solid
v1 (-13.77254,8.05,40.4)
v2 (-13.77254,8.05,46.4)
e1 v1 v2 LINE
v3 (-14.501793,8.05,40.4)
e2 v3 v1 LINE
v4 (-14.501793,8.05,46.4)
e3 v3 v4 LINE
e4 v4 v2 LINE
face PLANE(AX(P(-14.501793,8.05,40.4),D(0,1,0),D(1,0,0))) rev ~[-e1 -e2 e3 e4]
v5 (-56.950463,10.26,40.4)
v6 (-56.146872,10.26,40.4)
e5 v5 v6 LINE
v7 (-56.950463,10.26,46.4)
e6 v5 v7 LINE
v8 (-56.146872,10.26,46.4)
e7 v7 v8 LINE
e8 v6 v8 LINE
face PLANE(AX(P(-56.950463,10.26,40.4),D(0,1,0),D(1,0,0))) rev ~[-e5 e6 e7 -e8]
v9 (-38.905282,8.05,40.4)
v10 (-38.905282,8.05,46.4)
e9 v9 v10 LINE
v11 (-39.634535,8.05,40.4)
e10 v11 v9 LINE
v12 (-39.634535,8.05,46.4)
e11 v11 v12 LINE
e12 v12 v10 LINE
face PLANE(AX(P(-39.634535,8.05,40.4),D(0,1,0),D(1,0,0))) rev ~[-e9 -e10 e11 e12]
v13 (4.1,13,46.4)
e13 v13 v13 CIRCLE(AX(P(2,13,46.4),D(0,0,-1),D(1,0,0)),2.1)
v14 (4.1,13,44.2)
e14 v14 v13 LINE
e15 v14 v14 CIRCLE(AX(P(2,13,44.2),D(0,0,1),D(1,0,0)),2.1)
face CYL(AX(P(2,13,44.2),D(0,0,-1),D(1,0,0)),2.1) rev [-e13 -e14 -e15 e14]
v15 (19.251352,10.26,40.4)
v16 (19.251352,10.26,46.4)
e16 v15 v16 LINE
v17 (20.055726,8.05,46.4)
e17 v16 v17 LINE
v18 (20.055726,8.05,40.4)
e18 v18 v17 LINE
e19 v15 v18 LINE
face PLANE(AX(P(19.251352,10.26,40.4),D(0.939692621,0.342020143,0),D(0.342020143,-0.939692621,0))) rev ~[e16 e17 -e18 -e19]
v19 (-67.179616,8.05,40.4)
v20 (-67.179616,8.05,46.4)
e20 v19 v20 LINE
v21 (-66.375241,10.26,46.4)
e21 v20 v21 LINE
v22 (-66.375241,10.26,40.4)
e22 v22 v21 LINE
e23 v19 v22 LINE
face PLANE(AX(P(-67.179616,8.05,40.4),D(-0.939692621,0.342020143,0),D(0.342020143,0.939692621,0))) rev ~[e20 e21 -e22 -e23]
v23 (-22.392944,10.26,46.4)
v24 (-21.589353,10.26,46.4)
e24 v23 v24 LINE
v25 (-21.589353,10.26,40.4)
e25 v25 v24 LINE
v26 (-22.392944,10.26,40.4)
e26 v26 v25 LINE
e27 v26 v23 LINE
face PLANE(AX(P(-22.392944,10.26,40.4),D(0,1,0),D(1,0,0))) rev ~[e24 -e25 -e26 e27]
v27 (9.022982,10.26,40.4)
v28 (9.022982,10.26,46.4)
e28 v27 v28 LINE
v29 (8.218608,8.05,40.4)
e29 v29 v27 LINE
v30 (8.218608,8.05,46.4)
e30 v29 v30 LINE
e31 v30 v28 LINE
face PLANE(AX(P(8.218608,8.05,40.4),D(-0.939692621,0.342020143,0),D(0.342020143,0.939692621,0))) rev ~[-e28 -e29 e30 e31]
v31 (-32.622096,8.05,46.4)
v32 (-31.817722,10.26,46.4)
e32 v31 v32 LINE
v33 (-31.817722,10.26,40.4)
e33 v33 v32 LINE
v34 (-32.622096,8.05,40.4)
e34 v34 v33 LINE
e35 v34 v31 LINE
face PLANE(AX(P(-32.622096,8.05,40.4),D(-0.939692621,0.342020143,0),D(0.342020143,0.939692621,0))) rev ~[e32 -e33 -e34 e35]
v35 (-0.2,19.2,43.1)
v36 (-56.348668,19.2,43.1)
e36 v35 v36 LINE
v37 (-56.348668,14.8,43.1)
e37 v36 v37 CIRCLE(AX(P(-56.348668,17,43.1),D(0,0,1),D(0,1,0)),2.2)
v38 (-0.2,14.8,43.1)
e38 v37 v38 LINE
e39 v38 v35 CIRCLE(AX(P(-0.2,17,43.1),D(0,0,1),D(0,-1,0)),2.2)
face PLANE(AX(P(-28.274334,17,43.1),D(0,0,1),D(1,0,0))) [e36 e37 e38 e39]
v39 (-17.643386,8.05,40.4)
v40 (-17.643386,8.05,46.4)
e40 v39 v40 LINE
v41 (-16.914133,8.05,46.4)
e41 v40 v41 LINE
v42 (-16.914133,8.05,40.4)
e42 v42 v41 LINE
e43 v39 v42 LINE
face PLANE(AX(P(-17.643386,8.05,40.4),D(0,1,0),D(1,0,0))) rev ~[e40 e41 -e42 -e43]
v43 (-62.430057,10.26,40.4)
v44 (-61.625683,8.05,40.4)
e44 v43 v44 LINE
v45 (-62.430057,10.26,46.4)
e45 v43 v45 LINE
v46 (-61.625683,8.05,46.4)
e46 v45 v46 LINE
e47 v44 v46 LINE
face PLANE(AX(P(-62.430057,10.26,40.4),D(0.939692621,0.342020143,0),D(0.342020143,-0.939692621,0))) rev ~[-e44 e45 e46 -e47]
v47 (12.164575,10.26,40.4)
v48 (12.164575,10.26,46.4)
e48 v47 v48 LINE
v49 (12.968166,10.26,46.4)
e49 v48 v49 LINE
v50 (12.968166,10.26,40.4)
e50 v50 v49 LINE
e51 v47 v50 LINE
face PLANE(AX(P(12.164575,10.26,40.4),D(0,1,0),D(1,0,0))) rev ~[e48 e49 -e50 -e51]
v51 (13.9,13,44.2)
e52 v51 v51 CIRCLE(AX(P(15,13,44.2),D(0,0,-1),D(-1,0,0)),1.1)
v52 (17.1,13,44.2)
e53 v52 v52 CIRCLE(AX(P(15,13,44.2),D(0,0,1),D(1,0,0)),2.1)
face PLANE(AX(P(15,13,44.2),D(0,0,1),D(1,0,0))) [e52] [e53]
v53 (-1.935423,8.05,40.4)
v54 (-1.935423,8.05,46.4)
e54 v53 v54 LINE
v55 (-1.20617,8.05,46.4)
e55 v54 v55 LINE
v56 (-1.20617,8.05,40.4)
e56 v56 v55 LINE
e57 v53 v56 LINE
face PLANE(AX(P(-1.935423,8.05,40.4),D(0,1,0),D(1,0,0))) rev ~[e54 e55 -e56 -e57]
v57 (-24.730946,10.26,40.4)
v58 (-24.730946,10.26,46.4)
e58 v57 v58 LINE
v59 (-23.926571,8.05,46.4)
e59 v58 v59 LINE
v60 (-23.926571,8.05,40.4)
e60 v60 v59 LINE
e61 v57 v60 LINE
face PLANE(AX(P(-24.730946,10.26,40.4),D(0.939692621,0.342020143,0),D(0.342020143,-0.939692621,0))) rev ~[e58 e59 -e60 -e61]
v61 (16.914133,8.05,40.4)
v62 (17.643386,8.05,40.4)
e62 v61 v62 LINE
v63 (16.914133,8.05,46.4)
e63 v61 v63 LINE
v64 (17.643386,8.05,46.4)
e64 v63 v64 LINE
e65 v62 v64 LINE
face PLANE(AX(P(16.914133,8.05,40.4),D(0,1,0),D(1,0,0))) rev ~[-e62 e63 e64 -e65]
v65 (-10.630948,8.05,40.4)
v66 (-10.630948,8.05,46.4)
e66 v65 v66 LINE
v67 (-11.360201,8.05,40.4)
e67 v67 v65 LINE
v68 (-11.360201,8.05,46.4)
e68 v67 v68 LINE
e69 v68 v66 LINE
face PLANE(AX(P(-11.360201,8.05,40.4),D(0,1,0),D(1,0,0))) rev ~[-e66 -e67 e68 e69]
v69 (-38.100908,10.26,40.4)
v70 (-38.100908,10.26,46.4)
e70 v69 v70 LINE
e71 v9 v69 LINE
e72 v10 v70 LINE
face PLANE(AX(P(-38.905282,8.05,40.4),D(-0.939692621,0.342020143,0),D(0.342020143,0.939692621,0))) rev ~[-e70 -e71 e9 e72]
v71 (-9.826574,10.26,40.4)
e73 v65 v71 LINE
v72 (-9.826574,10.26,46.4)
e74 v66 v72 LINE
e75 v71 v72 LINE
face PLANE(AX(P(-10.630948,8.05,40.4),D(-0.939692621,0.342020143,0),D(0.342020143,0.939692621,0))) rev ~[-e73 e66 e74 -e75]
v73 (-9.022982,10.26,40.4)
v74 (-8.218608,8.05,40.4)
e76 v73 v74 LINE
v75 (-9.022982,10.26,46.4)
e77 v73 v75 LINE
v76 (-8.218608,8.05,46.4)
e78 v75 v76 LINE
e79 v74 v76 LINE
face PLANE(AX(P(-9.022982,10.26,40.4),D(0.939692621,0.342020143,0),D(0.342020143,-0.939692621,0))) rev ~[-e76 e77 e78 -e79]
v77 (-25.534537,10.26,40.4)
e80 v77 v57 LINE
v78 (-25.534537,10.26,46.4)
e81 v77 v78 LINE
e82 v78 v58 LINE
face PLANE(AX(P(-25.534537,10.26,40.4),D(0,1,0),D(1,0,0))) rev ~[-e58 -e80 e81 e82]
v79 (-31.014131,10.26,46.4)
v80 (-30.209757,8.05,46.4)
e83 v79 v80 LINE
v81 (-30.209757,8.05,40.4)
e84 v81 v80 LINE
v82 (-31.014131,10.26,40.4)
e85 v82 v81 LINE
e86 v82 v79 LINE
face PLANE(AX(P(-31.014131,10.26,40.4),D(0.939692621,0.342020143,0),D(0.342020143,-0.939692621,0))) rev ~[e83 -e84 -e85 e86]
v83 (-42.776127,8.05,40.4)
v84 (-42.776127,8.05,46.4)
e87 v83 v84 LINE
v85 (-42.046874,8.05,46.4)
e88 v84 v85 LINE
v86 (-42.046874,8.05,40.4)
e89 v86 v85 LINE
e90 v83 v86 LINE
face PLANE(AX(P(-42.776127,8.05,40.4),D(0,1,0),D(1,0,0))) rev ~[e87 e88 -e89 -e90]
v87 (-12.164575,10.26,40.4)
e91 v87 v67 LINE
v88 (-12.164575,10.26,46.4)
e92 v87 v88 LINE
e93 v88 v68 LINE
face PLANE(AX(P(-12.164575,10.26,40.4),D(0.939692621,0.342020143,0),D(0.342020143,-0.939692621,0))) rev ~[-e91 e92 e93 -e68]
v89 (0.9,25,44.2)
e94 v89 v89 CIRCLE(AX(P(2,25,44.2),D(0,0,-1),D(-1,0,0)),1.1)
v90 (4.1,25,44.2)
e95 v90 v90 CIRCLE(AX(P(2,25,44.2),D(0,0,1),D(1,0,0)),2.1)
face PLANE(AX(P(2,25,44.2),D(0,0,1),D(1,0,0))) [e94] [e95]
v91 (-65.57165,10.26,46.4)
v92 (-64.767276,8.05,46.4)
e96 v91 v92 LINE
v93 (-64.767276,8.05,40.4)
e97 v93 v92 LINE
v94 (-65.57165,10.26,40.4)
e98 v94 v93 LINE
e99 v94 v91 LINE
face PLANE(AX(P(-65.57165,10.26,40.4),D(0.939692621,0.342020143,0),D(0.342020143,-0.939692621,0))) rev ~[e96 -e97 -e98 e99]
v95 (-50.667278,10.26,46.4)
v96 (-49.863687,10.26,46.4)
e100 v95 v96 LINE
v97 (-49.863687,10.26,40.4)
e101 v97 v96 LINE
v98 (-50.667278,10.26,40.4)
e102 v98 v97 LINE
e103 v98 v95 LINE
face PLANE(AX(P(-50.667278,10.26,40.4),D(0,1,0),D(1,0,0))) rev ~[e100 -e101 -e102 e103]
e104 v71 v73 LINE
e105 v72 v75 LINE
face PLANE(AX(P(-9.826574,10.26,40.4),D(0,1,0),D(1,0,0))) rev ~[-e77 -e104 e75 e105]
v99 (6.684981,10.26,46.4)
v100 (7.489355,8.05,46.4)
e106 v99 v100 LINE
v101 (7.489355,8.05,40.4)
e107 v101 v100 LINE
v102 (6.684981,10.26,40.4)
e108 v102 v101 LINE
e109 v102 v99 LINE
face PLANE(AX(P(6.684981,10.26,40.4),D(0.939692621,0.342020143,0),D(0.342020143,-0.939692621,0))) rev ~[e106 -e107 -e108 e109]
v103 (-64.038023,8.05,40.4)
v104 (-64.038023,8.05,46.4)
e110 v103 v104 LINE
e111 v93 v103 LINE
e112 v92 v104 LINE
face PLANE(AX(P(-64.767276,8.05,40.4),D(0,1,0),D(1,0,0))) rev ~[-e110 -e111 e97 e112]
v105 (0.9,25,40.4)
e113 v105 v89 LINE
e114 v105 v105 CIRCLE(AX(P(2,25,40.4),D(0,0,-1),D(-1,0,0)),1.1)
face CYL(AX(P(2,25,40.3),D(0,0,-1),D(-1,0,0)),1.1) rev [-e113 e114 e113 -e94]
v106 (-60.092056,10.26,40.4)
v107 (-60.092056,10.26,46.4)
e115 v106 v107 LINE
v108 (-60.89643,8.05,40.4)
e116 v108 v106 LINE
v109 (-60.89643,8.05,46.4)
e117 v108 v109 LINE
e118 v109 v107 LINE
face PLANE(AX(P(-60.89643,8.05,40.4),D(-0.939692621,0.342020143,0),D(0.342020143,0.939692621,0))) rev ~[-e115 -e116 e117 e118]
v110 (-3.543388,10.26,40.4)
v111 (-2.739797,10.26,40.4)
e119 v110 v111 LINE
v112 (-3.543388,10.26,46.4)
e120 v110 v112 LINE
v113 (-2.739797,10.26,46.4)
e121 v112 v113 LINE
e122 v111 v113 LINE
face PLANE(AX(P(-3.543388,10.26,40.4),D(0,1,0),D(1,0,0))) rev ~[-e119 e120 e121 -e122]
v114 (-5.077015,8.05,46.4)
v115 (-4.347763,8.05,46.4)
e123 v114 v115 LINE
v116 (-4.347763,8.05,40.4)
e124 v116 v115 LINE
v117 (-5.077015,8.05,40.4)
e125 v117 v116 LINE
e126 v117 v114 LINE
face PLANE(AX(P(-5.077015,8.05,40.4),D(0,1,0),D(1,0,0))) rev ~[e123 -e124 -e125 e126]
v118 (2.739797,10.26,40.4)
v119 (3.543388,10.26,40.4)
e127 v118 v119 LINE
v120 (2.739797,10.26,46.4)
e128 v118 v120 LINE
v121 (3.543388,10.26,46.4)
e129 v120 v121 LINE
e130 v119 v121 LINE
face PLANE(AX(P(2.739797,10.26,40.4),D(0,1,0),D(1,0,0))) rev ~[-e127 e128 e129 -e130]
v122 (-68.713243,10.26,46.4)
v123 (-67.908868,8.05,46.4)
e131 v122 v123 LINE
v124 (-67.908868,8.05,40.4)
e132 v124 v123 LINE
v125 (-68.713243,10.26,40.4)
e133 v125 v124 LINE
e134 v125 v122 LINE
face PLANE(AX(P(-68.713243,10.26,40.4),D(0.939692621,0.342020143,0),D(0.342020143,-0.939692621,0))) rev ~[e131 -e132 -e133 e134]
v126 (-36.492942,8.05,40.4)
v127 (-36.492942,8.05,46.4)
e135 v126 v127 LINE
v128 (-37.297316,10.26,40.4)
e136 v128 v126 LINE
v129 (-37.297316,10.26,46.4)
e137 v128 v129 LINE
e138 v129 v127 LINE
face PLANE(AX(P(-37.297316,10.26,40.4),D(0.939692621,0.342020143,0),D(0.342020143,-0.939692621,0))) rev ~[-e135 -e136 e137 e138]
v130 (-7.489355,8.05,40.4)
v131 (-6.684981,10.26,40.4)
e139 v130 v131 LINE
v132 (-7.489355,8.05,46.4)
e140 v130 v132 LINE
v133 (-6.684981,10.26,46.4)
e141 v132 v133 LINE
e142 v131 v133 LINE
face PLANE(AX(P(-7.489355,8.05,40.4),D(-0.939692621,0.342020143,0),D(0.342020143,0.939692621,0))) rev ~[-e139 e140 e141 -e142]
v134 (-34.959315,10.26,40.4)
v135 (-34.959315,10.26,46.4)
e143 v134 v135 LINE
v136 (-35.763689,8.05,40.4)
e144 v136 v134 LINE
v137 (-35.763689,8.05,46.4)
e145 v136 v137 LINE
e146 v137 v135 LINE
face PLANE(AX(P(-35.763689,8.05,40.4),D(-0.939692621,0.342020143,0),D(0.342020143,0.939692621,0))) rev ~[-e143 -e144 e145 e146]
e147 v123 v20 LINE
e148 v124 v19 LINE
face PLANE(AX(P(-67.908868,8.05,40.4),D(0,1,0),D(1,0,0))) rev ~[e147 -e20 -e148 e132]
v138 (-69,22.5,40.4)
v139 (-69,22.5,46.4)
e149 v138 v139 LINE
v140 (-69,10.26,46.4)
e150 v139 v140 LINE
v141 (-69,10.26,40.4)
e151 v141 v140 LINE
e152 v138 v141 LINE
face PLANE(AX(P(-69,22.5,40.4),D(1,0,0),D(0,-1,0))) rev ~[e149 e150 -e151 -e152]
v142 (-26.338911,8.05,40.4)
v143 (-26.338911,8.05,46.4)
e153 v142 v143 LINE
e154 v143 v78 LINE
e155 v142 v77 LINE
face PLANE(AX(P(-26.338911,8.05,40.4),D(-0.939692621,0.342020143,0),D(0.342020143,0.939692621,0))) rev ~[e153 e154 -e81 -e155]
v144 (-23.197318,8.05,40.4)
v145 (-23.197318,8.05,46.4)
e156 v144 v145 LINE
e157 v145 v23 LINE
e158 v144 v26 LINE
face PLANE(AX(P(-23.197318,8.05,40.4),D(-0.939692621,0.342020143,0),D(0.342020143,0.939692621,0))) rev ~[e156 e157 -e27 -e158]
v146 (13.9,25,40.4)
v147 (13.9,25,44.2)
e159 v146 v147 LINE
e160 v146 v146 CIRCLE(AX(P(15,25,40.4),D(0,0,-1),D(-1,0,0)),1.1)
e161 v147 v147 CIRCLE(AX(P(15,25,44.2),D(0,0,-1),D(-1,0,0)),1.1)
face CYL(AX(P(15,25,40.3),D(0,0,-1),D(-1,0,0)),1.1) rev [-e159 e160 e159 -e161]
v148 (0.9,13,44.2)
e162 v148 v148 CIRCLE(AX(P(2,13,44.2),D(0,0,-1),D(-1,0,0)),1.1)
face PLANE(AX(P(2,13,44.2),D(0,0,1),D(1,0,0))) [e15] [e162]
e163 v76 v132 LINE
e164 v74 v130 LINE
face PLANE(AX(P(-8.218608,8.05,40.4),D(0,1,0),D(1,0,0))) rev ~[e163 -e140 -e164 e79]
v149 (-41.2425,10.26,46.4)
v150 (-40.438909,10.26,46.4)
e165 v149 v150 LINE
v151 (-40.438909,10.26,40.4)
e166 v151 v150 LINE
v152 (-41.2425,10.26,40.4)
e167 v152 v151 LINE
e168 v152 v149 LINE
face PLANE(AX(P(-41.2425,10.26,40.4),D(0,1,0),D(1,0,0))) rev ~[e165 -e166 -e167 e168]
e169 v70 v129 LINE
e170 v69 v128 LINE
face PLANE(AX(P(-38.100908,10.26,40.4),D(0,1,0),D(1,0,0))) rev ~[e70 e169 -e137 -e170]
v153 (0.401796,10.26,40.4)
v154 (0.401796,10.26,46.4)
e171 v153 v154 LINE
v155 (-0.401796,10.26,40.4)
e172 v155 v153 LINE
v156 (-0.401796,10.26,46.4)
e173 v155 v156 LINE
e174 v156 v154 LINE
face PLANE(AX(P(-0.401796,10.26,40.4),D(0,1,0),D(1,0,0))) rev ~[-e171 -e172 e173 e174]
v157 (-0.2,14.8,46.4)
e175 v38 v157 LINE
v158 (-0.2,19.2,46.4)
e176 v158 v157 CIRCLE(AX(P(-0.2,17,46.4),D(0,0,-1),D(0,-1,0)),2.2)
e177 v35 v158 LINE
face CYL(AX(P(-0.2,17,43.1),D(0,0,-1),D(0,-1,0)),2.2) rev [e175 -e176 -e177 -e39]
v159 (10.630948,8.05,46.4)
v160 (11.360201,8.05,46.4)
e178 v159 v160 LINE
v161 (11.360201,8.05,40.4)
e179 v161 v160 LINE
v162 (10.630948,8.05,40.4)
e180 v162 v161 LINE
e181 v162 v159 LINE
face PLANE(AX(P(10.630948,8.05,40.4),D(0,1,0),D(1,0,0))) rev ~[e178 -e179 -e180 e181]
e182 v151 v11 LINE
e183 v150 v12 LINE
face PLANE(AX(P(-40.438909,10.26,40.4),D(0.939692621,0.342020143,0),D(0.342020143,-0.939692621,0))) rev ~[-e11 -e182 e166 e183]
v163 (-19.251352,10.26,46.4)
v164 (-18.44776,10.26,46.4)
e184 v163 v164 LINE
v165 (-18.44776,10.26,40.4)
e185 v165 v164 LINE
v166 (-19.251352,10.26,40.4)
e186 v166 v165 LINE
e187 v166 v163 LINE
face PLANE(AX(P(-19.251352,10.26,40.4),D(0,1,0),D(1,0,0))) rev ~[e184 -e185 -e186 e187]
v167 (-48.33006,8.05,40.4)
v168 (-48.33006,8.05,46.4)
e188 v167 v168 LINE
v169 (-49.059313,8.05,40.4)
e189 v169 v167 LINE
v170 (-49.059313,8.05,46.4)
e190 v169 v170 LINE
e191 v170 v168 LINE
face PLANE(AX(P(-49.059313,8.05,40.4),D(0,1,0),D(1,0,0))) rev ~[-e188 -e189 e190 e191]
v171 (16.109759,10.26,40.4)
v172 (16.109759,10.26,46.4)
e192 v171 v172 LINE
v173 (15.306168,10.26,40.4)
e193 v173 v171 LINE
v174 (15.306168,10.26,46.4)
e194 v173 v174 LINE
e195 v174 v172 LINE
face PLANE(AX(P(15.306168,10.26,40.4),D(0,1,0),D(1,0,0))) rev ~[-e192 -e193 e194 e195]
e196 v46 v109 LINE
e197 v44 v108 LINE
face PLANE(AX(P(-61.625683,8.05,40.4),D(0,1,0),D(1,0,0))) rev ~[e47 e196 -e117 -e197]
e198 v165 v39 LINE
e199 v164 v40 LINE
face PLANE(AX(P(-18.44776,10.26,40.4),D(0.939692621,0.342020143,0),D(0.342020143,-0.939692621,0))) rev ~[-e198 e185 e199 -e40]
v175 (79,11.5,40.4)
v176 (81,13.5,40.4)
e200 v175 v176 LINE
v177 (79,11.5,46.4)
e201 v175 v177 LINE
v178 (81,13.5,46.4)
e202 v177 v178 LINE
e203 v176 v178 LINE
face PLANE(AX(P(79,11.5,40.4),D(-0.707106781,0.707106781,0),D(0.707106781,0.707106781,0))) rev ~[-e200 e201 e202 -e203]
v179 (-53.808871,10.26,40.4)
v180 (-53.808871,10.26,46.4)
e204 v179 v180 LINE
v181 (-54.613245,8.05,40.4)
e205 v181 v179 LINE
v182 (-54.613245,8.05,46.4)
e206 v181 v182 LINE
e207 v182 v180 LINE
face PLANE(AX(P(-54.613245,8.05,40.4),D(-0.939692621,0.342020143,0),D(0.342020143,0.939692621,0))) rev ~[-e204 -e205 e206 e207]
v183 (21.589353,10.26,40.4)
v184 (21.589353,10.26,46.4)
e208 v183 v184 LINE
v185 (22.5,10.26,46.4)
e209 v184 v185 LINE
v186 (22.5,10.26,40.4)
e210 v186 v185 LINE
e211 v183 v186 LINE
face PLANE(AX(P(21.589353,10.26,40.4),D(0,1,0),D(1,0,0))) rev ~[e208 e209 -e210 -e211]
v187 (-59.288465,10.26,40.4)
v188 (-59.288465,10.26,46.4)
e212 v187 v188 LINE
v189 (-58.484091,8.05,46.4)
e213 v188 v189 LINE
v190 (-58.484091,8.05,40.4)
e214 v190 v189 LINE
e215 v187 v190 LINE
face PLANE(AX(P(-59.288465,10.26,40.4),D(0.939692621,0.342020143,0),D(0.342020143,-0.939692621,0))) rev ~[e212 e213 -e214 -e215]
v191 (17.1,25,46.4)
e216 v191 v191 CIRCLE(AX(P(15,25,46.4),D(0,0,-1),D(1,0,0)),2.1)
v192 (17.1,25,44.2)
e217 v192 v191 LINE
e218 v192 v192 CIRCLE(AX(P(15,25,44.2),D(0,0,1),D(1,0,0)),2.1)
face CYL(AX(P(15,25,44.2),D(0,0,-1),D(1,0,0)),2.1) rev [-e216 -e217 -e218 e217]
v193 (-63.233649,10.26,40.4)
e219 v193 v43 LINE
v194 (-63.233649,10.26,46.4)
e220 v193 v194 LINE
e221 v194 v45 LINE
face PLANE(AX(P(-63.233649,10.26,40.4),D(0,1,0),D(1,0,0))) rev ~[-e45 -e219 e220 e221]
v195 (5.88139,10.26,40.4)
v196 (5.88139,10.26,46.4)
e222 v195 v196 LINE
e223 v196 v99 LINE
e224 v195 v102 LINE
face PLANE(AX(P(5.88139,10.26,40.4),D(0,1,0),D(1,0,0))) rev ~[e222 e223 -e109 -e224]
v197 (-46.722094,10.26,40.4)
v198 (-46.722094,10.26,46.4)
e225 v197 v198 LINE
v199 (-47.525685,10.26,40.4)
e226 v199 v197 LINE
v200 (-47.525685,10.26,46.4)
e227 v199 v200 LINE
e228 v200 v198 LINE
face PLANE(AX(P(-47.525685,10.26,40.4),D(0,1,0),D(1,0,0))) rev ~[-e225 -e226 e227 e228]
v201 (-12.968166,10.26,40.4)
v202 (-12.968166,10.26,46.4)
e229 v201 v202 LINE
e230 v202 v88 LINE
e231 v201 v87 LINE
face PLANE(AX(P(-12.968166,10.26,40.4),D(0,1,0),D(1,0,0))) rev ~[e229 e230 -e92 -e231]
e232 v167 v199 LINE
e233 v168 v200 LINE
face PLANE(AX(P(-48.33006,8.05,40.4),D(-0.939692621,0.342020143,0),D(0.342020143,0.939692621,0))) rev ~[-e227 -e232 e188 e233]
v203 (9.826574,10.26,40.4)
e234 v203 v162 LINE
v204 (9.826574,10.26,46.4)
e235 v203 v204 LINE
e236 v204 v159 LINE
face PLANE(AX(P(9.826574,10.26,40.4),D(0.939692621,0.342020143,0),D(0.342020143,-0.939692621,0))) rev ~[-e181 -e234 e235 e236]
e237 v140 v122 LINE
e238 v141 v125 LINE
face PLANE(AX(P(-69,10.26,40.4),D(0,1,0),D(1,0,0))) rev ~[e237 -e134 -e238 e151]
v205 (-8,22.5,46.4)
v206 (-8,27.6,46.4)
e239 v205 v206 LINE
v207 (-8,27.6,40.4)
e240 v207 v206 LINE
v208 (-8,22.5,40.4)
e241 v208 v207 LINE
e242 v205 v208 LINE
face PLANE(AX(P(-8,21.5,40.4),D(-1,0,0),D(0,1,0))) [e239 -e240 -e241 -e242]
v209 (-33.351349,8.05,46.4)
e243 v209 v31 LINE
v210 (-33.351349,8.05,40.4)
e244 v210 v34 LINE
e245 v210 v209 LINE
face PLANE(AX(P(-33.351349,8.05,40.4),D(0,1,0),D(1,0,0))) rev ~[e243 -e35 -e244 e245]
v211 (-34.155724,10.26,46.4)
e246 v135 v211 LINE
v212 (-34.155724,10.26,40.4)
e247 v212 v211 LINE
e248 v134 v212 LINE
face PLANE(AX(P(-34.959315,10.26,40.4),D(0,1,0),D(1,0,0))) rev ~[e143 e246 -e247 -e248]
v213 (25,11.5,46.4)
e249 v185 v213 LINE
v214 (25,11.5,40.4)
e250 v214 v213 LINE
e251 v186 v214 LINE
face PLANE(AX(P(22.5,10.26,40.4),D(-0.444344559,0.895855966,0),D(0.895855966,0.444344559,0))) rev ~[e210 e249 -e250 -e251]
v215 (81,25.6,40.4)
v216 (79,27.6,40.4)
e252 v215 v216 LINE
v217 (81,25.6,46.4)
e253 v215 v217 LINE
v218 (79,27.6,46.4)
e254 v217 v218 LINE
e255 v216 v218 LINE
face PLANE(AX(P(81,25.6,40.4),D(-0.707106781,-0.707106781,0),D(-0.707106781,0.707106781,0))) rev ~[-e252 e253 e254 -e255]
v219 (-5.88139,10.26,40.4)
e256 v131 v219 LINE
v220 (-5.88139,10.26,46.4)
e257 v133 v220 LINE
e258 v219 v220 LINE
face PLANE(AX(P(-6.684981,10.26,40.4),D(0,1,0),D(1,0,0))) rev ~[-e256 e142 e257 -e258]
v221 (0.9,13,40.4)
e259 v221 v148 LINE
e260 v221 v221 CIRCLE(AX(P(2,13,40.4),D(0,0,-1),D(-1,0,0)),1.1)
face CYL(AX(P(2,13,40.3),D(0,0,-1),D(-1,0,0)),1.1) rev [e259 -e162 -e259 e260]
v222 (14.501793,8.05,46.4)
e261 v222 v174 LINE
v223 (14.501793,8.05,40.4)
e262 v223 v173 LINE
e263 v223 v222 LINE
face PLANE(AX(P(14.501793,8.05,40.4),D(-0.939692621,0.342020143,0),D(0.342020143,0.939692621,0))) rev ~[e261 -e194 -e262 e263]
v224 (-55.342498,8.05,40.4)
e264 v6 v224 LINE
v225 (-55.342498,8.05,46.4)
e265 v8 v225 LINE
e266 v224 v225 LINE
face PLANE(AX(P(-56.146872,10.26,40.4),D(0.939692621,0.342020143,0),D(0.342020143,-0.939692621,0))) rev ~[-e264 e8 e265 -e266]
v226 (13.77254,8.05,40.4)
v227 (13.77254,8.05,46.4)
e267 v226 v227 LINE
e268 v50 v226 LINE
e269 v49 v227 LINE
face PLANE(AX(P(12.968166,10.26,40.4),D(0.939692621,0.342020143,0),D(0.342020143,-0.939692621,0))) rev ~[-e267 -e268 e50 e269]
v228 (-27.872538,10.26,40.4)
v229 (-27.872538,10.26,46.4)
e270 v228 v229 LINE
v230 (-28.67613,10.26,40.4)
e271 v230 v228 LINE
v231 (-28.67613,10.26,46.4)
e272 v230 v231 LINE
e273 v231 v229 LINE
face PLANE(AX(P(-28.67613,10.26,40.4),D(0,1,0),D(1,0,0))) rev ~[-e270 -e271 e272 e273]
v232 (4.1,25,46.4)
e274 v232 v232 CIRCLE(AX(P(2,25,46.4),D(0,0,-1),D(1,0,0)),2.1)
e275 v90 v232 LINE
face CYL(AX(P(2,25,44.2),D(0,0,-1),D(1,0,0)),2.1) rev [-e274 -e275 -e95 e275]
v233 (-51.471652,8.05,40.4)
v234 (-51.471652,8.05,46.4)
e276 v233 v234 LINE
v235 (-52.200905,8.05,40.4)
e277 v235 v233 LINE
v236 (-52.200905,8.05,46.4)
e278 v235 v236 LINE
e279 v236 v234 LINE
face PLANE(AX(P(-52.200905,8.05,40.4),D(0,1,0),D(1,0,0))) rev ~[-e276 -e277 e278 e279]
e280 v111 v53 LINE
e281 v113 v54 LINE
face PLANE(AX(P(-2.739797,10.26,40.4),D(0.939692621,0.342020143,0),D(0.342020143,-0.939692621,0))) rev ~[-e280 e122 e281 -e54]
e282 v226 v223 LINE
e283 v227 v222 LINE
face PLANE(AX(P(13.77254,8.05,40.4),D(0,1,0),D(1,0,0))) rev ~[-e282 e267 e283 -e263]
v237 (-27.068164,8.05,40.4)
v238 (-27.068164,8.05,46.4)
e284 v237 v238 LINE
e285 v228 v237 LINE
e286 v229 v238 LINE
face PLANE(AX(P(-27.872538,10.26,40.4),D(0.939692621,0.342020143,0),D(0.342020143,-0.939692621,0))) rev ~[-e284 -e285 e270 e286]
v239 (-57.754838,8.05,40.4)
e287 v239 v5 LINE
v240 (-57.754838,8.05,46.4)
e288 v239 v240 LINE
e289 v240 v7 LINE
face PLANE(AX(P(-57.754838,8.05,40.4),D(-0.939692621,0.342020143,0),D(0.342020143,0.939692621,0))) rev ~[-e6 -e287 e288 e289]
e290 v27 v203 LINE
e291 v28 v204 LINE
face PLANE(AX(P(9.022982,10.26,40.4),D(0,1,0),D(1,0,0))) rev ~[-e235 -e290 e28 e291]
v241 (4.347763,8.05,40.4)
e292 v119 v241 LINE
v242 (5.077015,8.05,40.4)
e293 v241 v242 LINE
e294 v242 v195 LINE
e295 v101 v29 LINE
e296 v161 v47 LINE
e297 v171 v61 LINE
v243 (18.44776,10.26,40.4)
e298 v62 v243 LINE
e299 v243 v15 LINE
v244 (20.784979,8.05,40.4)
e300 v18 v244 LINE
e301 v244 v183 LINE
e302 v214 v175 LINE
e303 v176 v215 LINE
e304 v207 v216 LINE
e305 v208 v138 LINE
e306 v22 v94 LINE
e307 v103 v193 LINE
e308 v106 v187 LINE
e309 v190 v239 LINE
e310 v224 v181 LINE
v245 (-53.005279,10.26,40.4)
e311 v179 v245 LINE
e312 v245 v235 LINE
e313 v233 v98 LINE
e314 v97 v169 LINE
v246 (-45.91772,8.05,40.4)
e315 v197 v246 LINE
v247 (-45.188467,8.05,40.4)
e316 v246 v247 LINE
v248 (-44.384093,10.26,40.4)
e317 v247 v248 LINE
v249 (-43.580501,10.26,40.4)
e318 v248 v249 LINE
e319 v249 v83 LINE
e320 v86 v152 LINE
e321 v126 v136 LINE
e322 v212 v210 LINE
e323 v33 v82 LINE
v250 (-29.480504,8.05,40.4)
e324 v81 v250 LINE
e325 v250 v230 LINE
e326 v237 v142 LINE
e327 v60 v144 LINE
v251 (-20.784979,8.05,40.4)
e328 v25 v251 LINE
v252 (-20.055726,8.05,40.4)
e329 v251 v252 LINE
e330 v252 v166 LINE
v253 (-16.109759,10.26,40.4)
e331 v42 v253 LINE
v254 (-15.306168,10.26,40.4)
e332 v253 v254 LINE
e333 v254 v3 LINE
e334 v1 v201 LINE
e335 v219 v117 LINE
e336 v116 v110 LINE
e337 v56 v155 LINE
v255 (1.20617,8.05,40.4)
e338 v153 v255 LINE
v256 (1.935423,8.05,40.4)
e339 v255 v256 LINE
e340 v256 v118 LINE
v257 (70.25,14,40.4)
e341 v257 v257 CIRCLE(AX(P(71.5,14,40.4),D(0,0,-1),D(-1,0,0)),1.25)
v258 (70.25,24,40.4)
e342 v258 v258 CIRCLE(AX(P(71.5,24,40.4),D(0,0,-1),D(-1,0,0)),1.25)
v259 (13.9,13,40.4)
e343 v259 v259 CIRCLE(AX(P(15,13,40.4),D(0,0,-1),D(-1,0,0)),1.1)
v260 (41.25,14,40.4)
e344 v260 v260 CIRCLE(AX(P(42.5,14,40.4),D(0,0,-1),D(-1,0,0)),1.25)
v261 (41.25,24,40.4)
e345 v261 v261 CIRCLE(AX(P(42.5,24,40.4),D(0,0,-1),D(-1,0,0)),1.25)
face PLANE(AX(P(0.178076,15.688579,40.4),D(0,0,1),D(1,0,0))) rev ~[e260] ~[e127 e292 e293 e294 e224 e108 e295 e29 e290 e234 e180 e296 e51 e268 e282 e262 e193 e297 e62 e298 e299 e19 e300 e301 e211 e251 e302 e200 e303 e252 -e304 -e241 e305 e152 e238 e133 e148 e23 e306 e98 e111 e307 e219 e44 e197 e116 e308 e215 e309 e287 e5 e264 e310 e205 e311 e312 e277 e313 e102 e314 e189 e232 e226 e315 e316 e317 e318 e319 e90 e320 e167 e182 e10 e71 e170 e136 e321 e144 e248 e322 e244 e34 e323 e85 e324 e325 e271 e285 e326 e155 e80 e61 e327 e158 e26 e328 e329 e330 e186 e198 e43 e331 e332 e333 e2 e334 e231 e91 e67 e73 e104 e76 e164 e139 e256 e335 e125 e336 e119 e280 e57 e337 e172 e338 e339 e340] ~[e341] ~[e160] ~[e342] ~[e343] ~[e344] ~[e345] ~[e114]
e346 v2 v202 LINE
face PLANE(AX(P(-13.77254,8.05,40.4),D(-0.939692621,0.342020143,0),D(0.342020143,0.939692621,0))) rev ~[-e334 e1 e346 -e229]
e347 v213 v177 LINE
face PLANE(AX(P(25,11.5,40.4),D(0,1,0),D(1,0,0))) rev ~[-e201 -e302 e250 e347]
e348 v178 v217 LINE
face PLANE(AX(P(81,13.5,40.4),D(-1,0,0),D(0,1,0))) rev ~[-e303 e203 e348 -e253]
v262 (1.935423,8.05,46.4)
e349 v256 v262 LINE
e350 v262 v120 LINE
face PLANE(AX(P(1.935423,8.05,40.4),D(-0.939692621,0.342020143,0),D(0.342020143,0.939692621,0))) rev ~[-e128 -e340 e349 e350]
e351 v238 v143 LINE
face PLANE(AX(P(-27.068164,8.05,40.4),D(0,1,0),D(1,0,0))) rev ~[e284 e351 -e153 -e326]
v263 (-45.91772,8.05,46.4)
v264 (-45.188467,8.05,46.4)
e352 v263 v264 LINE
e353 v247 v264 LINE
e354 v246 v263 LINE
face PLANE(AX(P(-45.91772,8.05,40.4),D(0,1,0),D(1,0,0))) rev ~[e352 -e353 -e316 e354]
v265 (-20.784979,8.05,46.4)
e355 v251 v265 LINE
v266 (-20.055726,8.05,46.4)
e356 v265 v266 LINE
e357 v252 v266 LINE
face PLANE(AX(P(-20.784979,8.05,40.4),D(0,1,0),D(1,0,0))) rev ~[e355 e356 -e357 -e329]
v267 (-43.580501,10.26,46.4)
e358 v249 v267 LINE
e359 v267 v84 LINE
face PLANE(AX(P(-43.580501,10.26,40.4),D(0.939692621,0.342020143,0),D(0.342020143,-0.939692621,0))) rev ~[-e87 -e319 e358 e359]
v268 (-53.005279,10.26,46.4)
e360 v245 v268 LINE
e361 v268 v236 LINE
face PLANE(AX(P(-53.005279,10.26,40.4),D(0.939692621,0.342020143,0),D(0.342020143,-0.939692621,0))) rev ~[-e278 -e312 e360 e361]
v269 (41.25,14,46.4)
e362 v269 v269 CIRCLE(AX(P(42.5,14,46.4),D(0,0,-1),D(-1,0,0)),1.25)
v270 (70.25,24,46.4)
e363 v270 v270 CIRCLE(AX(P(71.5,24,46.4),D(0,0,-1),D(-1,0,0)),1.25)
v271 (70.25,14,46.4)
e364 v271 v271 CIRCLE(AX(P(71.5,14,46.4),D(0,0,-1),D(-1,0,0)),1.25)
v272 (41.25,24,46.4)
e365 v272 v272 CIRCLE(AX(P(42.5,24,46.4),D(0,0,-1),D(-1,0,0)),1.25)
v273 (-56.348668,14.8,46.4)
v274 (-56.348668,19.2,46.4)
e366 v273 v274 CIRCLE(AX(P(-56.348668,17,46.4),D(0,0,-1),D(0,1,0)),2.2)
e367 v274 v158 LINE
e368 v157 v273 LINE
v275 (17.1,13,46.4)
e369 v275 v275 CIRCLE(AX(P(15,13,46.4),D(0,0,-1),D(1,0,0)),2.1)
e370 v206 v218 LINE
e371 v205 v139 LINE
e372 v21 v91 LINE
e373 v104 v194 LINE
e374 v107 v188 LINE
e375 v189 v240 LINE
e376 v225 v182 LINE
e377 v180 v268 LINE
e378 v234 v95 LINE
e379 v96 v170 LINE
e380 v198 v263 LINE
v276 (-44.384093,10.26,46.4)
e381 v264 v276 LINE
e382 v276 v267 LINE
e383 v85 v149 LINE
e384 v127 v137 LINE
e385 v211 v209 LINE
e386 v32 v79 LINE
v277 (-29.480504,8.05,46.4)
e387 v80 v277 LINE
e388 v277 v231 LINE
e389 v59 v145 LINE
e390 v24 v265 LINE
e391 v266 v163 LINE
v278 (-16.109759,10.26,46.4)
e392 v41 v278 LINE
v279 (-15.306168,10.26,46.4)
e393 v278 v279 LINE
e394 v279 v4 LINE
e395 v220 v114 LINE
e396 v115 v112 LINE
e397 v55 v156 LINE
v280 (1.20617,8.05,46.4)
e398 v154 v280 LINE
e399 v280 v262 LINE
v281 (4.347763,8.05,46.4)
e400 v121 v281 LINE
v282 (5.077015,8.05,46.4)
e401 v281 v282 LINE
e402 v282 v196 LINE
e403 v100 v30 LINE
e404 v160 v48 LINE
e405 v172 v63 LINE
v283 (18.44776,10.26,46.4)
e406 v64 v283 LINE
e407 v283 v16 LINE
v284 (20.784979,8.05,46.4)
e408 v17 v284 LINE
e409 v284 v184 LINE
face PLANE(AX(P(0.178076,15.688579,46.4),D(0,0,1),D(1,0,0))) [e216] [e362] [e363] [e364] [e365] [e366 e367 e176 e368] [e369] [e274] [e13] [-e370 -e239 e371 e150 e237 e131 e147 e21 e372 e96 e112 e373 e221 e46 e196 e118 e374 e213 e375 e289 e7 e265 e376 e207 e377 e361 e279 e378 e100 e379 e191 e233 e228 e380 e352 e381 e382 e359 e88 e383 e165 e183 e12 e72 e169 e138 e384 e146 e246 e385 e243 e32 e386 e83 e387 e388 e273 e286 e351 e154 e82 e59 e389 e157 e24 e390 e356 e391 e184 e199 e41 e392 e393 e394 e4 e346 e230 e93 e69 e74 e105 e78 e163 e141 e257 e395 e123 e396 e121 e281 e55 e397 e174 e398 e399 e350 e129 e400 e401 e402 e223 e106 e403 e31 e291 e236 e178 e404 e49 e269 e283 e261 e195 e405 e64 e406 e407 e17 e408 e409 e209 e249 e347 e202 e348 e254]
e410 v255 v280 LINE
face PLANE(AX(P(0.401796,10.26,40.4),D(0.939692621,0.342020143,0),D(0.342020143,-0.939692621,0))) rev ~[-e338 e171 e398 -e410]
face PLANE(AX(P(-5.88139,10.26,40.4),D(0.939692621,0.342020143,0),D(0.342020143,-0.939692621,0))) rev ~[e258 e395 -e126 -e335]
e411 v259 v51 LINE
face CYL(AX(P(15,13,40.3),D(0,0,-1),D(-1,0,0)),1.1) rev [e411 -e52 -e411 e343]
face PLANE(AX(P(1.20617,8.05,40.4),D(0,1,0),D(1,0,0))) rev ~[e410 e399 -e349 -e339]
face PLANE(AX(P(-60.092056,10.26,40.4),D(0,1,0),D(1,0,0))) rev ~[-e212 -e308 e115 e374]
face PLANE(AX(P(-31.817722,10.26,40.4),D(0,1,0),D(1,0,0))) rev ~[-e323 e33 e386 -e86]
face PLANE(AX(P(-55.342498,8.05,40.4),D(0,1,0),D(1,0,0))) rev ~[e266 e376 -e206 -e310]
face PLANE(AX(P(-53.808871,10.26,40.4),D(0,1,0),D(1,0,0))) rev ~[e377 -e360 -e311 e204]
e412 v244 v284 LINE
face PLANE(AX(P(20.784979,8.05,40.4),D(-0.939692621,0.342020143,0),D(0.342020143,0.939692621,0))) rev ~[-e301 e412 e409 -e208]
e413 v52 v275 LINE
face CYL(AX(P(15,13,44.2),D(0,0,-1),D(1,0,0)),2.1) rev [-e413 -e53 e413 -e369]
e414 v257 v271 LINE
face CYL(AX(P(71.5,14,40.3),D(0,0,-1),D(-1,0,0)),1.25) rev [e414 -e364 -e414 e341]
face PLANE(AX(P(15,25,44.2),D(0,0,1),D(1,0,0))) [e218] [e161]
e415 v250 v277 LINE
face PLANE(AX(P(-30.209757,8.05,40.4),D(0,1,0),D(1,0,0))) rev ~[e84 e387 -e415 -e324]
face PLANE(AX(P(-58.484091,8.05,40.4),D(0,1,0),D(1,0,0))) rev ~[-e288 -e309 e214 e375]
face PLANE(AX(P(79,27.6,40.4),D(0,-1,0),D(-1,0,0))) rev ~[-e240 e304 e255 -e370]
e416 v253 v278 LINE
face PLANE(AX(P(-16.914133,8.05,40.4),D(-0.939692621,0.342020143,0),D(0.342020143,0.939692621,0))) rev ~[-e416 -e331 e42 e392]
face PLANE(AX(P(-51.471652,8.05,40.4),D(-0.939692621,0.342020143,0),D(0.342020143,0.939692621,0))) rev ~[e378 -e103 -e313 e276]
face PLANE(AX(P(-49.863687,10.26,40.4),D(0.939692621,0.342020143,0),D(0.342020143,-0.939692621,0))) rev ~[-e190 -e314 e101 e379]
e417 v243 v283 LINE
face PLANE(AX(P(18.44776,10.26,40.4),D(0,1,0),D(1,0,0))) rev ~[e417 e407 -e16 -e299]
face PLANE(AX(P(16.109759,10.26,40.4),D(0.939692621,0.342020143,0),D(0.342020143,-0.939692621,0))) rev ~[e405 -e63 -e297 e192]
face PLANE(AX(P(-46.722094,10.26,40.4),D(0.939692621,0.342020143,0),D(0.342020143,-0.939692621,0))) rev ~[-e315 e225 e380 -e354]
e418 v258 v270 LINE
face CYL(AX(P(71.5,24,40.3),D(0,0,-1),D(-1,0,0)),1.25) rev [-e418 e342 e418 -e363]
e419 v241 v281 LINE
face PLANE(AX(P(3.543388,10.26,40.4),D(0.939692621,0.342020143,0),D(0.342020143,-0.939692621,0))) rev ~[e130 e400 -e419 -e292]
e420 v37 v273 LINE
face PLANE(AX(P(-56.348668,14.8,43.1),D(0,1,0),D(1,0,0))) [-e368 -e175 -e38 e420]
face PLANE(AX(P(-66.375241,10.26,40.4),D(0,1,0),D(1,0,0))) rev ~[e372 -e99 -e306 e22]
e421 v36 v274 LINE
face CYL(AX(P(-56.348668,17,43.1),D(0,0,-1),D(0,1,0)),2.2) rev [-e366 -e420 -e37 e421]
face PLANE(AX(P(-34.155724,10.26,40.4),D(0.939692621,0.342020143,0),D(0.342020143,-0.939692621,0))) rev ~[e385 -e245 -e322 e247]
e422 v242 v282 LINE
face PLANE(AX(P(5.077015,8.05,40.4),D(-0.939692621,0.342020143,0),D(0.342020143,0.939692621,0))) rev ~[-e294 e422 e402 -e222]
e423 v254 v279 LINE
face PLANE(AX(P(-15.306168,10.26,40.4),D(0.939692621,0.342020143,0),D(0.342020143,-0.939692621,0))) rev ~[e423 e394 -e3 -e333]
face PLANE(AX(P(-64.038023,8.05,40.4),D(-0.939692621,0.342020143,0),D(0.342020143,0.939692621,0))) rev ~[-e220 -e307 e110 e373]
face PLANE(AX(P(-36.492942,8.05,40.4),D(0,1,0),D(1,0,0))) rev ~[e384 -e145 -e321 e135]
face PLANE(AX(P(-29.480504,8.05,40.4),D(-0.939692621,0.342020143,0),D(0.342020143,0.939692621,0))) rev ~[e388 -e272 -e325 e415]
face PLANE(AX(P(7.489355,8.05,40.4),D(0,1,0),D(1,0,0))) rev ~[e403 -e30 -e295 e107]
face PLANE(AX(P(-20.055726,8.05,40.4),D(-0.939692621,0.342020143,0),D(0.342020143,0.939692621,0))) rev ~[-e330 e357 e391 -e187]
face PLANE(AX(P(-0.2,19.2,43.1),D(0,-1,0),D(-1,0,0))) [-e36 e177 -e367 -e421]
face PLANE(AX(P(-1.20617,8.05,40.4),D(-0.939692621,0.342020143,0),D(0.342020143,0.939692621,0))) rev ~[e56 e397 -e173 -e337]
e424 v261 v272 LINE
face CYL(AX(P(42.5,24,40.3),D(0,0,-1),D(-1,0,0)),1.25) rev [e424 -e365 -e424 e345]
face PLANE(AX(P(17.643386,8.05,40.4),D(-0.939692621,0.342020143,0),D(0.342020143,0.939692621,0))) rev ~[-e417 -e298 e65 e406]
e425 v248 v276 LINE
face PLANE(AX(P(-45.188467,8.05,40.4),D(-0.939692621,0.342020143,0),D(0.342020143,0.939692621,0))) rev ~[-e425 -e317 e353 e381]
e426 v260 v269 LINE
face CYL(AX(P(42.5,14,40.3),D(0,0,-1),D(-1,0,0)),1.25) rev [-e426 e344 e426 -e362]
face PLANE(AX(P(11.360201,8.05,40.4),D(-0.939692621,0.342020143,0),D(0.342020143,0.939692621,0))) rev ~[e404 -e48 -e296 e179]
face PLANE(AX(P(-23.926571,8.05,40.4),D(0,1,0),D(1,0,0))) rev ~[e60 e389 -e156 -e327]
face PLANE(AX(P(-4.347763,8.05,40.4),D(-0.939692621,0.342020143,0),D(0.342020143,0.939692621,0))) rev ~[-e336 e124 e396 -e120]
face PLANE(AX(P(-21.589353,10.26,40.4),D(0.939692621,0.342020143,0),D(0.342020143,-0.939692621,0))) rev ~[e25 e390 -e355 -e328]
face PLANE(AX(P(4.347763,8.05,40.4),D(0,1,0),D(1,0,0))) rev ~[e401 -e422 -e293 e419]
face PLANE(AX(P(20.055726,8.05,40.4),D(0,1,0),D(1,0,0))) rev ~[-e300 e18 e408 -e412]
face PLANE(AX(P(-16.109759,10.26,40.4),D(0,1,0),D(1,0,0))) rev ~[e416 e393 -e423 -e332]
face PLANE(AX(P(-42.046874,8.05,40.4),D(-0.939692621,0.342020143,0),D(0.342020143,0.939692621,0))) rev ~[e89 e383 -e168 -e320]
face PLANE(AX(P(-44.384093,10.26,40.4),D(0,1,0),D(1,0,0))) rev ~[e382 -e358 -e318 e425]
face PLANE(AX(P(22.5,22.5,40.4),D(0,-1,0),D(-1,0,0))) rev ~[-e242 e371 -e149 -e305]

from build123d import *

# Parameters (mm, degrees)
MODULE_START                                   = 40.4
MODULE_1_RACK_WITH_VERTICAL_CARRIER_TAIL_DEPTH = 6
MGN7H_START                                    = 40.4
MGN7H_CARRIAGE_FIXING_PAD_PROFILE_W            = 33
MGN7H_CARRIAGE_FIXING_PAD_PROFILE_H            = 6.1
MGN7H_CARRIAGE_FIXING_PAD_DEPTH                = 6
FULL_START                                     = 43.1
FULL_STROKE_LIMIT_SLOT_56_55_MM_DEPTH          = 3.4
RADAR_START                                    = 40.3
RADAR_SEAT_FOUR_M3_PILOTS_29_X_10_MM_PRO_R     = 1.25
RADAR_SEAT_FOUR_M3_PILOTS_29_X_10_MM_DEPTH     = 6.2
MGN7H_START_2                                  = 40.3
MGN7H_FOUR_M2_CLEARANCES_13_X_12_MM_PROF_R     = 1.1
MGN7H_FOUR_M2_CLEARANCES_13_X_12_MM_DEPTH      = 6.2
MGN7H_START_3                                  = 44.2
MGN7H_M2_HEAD_POCKETS_PROFILE_R                = 2.1
MGN7H_M2_HEAD_POCKETS_DEPTH                    = 2.3


with BuildPart() as part:
    # Module 1 rack with vertical carrier  2 → Module 1 rack with vertical carrier tail (new body)
    with BuildSketch(Plane.XY.offset(MODULE_START)):
        Polygon((-69, 10.26), (-68.713242711, 10.26), (-67.908868493, 8.05), (-67.179615611, 8.05), (-66.375241394, 10.26), (-65.571650057, 10.26), (-64.767275839, 8.05), (-64.038022958, 8.05), (-63.23364874, 10.26), (-62.430057404, 10.26), (-61.625683186, 8.05), (-60.896430304, 8.05), (-60.092056086, 10.26), (-59.28846475, 10.26), (-58.484090532, 8.05), (-57.754837651, 8.05), (-56.950463433, 10.26), (-56.146872096, 10.26), (-55.342497879, 8.05), (-54.613244997, 8.05), (-53.808870779, 10.26), (-53.005279443, 10.26), (-52.200905225, 8.05), (-51.471652343, 8.05), (-50.667278126, 10.26), (-49.863686789, 10.26), (-49.059312572, 8.05), (-48.33005969, 8.05), (-47.525685472, 10.26), (-46.722094136, 10.26), (-45.917719918, 8.05), (-45.188467036, 8.05), (-44.384092819, 10.26), (-43.580501482, 10.26), (-42.776127264, 8.05), (-42.046874383, 8.05), (-41.242500165, 10.26), (-40.438908828, 10.26), (-39.634534611, 8.05), (-38.905281729, 8.05), (-38.100907511, 10.26), (-37.297316175, 10.26), (-36.492941957, 8.05), (-35.763689075, 8.05), (-34.959314858, 10.26), (-34.155723521, 10.26), (-33.351349304, 8.05), (-32.622096422, 8.05), (-31.817722204, 10.26), (-31.014130868, 10.26), (-30.20975665, 8.05), (-29.480503768, 8.05), (-28.676129551, 10.26), (-27.872538214, 10.26), (-27.068163996, 8.05), (-26.338911115, 8.05), (-25.534536897, 10.26), (-24.730945561, 10.26), (-23.926571343, 8.05), (-23.197318461, 8.05), (-22.392944243, 10.26), (-21.589352907, 10.26), (-20.784978689, 8.05), (-20.055725808, 8.05), (-19.25135159, 10.26), (-18.447760253, 10.26), (-17.643386036, 8.05), (-16.914133154, 8.05), (-16.109758936, 10.26), (-15.3061676, 10.26), (-14.501793382, 8.05), (-13.7725405, 8.05), (-12.968166283, 10.26), (-12.164574946, 10.26), (-11.360200728, 8.05), (-10.630947847, 8.05), (-9.826573629, 10.26), (-9.022982293, 10.26), (-8.218608075, 8.05), (-7.489355193, 8.05), (-6.684980975, 10.26), (-5.881389639, 10.26), (-5.077015421, 8.05), (-4.34776254, 8.05), (-3.543388322, 10.26), (-2.739796985, 10.26), (-1.935422768, 8.05), (-1.206169886, 8.05), (-0.401795668, 10.26), (0.401795668, 10.26), (1.206169886, 8.05), (1.935422768, 8.05), (2.739796985, 10.26), (3.543388322, 10.26), (4.34776254, 8.05), (5.077015421, 8.05), (5.881389639, 10.26), (6.684980975, 10.26), (7.489355193, 8.05), (8.218608075, 8.05), (9.022982293, 10.26), (9.826573629, 10.26), (10.630947847, 8.05), (11.360200728, 8.05), (12.164574946, 10.26), (12.968166283, 10.26), (13.7725405, 8.05), (14.501793382, 8.05), (15.3061676, 10.26), (16.109758936, 10.26), (16.914133154, 8.05), (17.643386036, 8.05), (18.447760253, 10.26), (19.25135159, 10.26), (20.055725808, 8.05), (20.784978689, 8.05), (21.589352907, 10.26), (22.5, 10.26), (25, 11.5), (79, 11.5), (81, 13.5), (81, 25.6), (79, 27.6), (22.5, 27.6), (22.5, 22.5), (-69, 22.5), align=None)
    extrude(amount=MODULE_1_RACK_WITH_VERTICAL_CARRIER_TAIL_DEPTH)

    # MGN7H carriage fixing pad profile → MGN7H carriage fixing pad (add)
    with BuildSketch(Plane.XY.offset(MGN7H_START)):
        with Locations((8.5, 24.55)):
            Rectangle(MGN7H_CARRIAGE_FIXING_PAD_PROFILE_W, MGN7H_CARRIAGE_FIXING_PAD_PROFILE_H)
    extrude(amount=MGN7H_CARRIAGE_FIXING_PAD_DEPTH)

    # Full stroke limit slot 56.55 mm profile → Full stroke limit slot 56.55 mm (cut)
    with BuildSketch(Plane.XY.offset(FULL_START)):
        with BuildLine():
            Line((-56.348667765, 14.8), (-0.2, 14.8))
            ThreePointArc((-0.2, 14.8), (2, 17), (-0.2, 19.2))
            Line((-0.2, 19.2), (-56.348667765, 19.2))
            ThreePointArc((-56.348667765, 19.2), (-58.548667765, 17), (-56.348667765, 14.8))
        make_face()
    extrude(amount=FULL_STROKE_LIMIT_SLOT_56_55_MM_DEPTH, mode=Mode.SUBTRACT)

    # Radar seat four M3 pilots 29 x 10 mm profile → Radar seat four M3 pilots 29 x 10 mm (cut)
    with BuildSketch(Plane.XY.offset(RADAR_START)):
        with Locations(Location((42.5, 14, 0), (0, 0, 180))):
            Circle(RADAR_SEAT_FOUR_M3_PILOTS_29_X_10_MM_PRO_R)
        with Locations(Location((42.5, 24, 0), (0, 0, 180))):
            Circle(RADAR_SEAT_FOUR_M3_PILOTS_29_X_10_MM_PRO_R)
        with Locations(Location((71.5, 14, 0), (0, 0, 180))):
            Circle(RADAR_SEAT_FOUR_M3_PILOTS_29_X_10_MM_PRO_R)
        with Locations(Location((71.5, 24, 0), (0, 0, 180))):
            Circle(RADAR_SEAT_FOUR_M3_PILOTS_29_X_10_MM_PRO_R)
    extrude(amount=RADAR_SEAT_FOUR_M3_PILOTS_29_X_10_MM_DEPTH, mode=Mode.SUBTRACT)

    # MGN7H four M2 clearances 13 x 12 mm profile → MGN7H four M2 clearances 13 x 12 mm (cut)
    with BuildSketch(Plane.XY.offset(MGN7H_START_2)):
        with Locations(Location((2, 13, 0), (0, 0, 180))):
            Circle(MGN7H_FOUR_M2_CLEARANCES_13_X_12_MM_PROF_R)
        with Locations(Location((2, 25, 0), (0, 0, 180))):
            Circle(MGN7H_FOUR_M2_CLEARANCES_13_X_12_MM_PROF_R)
        with Locations(Location((15, 13, 0), (0, 0, 180))):
            Circle(MGN7H_FOUR_M2_CLEARANCES_13_X_12_MM_PROF_R)
        with Locations(Location((15, 25, 0), (0, 0, 180))):
            Circle(MGN7H_FOUR_M2_CLEARANCES_13_X_12_MM_PROF_R)
    extrude(amount=MGN7H_FOUR_M2_CLEARANCES_13_X_12_MM_DEPTH, mode=Mode.SUBTRACT)

    # MGN7H M2 head pockets profile → MGN7H M2 head pockets (cut)
    with BuildSketch(Plane.XY.offset(MGN7H_START_3)):
        with Locations((2, 13)):
            Circle(MGN7H_M2_HEAD_POCKETS_PROFILE_R)
        with Locations((2, 25)):
            Circle(MGN7H_M2_HEAD_POCKETS_PROFILE_R)
        with Locations((15, 13)):
            Circle(MGN7H_M2_HEAD_POCKETS_PROFILE_R)
        with Locations((15, 25)):
            Circle(MGN7H_M2_HEAD_POCKETS_PROFILE_R)
    extrude(amount=MGN7H_M2_HEAD_POCKETS_DEPTH, mode=Mode.SUBTRACT)


solid = part.part
